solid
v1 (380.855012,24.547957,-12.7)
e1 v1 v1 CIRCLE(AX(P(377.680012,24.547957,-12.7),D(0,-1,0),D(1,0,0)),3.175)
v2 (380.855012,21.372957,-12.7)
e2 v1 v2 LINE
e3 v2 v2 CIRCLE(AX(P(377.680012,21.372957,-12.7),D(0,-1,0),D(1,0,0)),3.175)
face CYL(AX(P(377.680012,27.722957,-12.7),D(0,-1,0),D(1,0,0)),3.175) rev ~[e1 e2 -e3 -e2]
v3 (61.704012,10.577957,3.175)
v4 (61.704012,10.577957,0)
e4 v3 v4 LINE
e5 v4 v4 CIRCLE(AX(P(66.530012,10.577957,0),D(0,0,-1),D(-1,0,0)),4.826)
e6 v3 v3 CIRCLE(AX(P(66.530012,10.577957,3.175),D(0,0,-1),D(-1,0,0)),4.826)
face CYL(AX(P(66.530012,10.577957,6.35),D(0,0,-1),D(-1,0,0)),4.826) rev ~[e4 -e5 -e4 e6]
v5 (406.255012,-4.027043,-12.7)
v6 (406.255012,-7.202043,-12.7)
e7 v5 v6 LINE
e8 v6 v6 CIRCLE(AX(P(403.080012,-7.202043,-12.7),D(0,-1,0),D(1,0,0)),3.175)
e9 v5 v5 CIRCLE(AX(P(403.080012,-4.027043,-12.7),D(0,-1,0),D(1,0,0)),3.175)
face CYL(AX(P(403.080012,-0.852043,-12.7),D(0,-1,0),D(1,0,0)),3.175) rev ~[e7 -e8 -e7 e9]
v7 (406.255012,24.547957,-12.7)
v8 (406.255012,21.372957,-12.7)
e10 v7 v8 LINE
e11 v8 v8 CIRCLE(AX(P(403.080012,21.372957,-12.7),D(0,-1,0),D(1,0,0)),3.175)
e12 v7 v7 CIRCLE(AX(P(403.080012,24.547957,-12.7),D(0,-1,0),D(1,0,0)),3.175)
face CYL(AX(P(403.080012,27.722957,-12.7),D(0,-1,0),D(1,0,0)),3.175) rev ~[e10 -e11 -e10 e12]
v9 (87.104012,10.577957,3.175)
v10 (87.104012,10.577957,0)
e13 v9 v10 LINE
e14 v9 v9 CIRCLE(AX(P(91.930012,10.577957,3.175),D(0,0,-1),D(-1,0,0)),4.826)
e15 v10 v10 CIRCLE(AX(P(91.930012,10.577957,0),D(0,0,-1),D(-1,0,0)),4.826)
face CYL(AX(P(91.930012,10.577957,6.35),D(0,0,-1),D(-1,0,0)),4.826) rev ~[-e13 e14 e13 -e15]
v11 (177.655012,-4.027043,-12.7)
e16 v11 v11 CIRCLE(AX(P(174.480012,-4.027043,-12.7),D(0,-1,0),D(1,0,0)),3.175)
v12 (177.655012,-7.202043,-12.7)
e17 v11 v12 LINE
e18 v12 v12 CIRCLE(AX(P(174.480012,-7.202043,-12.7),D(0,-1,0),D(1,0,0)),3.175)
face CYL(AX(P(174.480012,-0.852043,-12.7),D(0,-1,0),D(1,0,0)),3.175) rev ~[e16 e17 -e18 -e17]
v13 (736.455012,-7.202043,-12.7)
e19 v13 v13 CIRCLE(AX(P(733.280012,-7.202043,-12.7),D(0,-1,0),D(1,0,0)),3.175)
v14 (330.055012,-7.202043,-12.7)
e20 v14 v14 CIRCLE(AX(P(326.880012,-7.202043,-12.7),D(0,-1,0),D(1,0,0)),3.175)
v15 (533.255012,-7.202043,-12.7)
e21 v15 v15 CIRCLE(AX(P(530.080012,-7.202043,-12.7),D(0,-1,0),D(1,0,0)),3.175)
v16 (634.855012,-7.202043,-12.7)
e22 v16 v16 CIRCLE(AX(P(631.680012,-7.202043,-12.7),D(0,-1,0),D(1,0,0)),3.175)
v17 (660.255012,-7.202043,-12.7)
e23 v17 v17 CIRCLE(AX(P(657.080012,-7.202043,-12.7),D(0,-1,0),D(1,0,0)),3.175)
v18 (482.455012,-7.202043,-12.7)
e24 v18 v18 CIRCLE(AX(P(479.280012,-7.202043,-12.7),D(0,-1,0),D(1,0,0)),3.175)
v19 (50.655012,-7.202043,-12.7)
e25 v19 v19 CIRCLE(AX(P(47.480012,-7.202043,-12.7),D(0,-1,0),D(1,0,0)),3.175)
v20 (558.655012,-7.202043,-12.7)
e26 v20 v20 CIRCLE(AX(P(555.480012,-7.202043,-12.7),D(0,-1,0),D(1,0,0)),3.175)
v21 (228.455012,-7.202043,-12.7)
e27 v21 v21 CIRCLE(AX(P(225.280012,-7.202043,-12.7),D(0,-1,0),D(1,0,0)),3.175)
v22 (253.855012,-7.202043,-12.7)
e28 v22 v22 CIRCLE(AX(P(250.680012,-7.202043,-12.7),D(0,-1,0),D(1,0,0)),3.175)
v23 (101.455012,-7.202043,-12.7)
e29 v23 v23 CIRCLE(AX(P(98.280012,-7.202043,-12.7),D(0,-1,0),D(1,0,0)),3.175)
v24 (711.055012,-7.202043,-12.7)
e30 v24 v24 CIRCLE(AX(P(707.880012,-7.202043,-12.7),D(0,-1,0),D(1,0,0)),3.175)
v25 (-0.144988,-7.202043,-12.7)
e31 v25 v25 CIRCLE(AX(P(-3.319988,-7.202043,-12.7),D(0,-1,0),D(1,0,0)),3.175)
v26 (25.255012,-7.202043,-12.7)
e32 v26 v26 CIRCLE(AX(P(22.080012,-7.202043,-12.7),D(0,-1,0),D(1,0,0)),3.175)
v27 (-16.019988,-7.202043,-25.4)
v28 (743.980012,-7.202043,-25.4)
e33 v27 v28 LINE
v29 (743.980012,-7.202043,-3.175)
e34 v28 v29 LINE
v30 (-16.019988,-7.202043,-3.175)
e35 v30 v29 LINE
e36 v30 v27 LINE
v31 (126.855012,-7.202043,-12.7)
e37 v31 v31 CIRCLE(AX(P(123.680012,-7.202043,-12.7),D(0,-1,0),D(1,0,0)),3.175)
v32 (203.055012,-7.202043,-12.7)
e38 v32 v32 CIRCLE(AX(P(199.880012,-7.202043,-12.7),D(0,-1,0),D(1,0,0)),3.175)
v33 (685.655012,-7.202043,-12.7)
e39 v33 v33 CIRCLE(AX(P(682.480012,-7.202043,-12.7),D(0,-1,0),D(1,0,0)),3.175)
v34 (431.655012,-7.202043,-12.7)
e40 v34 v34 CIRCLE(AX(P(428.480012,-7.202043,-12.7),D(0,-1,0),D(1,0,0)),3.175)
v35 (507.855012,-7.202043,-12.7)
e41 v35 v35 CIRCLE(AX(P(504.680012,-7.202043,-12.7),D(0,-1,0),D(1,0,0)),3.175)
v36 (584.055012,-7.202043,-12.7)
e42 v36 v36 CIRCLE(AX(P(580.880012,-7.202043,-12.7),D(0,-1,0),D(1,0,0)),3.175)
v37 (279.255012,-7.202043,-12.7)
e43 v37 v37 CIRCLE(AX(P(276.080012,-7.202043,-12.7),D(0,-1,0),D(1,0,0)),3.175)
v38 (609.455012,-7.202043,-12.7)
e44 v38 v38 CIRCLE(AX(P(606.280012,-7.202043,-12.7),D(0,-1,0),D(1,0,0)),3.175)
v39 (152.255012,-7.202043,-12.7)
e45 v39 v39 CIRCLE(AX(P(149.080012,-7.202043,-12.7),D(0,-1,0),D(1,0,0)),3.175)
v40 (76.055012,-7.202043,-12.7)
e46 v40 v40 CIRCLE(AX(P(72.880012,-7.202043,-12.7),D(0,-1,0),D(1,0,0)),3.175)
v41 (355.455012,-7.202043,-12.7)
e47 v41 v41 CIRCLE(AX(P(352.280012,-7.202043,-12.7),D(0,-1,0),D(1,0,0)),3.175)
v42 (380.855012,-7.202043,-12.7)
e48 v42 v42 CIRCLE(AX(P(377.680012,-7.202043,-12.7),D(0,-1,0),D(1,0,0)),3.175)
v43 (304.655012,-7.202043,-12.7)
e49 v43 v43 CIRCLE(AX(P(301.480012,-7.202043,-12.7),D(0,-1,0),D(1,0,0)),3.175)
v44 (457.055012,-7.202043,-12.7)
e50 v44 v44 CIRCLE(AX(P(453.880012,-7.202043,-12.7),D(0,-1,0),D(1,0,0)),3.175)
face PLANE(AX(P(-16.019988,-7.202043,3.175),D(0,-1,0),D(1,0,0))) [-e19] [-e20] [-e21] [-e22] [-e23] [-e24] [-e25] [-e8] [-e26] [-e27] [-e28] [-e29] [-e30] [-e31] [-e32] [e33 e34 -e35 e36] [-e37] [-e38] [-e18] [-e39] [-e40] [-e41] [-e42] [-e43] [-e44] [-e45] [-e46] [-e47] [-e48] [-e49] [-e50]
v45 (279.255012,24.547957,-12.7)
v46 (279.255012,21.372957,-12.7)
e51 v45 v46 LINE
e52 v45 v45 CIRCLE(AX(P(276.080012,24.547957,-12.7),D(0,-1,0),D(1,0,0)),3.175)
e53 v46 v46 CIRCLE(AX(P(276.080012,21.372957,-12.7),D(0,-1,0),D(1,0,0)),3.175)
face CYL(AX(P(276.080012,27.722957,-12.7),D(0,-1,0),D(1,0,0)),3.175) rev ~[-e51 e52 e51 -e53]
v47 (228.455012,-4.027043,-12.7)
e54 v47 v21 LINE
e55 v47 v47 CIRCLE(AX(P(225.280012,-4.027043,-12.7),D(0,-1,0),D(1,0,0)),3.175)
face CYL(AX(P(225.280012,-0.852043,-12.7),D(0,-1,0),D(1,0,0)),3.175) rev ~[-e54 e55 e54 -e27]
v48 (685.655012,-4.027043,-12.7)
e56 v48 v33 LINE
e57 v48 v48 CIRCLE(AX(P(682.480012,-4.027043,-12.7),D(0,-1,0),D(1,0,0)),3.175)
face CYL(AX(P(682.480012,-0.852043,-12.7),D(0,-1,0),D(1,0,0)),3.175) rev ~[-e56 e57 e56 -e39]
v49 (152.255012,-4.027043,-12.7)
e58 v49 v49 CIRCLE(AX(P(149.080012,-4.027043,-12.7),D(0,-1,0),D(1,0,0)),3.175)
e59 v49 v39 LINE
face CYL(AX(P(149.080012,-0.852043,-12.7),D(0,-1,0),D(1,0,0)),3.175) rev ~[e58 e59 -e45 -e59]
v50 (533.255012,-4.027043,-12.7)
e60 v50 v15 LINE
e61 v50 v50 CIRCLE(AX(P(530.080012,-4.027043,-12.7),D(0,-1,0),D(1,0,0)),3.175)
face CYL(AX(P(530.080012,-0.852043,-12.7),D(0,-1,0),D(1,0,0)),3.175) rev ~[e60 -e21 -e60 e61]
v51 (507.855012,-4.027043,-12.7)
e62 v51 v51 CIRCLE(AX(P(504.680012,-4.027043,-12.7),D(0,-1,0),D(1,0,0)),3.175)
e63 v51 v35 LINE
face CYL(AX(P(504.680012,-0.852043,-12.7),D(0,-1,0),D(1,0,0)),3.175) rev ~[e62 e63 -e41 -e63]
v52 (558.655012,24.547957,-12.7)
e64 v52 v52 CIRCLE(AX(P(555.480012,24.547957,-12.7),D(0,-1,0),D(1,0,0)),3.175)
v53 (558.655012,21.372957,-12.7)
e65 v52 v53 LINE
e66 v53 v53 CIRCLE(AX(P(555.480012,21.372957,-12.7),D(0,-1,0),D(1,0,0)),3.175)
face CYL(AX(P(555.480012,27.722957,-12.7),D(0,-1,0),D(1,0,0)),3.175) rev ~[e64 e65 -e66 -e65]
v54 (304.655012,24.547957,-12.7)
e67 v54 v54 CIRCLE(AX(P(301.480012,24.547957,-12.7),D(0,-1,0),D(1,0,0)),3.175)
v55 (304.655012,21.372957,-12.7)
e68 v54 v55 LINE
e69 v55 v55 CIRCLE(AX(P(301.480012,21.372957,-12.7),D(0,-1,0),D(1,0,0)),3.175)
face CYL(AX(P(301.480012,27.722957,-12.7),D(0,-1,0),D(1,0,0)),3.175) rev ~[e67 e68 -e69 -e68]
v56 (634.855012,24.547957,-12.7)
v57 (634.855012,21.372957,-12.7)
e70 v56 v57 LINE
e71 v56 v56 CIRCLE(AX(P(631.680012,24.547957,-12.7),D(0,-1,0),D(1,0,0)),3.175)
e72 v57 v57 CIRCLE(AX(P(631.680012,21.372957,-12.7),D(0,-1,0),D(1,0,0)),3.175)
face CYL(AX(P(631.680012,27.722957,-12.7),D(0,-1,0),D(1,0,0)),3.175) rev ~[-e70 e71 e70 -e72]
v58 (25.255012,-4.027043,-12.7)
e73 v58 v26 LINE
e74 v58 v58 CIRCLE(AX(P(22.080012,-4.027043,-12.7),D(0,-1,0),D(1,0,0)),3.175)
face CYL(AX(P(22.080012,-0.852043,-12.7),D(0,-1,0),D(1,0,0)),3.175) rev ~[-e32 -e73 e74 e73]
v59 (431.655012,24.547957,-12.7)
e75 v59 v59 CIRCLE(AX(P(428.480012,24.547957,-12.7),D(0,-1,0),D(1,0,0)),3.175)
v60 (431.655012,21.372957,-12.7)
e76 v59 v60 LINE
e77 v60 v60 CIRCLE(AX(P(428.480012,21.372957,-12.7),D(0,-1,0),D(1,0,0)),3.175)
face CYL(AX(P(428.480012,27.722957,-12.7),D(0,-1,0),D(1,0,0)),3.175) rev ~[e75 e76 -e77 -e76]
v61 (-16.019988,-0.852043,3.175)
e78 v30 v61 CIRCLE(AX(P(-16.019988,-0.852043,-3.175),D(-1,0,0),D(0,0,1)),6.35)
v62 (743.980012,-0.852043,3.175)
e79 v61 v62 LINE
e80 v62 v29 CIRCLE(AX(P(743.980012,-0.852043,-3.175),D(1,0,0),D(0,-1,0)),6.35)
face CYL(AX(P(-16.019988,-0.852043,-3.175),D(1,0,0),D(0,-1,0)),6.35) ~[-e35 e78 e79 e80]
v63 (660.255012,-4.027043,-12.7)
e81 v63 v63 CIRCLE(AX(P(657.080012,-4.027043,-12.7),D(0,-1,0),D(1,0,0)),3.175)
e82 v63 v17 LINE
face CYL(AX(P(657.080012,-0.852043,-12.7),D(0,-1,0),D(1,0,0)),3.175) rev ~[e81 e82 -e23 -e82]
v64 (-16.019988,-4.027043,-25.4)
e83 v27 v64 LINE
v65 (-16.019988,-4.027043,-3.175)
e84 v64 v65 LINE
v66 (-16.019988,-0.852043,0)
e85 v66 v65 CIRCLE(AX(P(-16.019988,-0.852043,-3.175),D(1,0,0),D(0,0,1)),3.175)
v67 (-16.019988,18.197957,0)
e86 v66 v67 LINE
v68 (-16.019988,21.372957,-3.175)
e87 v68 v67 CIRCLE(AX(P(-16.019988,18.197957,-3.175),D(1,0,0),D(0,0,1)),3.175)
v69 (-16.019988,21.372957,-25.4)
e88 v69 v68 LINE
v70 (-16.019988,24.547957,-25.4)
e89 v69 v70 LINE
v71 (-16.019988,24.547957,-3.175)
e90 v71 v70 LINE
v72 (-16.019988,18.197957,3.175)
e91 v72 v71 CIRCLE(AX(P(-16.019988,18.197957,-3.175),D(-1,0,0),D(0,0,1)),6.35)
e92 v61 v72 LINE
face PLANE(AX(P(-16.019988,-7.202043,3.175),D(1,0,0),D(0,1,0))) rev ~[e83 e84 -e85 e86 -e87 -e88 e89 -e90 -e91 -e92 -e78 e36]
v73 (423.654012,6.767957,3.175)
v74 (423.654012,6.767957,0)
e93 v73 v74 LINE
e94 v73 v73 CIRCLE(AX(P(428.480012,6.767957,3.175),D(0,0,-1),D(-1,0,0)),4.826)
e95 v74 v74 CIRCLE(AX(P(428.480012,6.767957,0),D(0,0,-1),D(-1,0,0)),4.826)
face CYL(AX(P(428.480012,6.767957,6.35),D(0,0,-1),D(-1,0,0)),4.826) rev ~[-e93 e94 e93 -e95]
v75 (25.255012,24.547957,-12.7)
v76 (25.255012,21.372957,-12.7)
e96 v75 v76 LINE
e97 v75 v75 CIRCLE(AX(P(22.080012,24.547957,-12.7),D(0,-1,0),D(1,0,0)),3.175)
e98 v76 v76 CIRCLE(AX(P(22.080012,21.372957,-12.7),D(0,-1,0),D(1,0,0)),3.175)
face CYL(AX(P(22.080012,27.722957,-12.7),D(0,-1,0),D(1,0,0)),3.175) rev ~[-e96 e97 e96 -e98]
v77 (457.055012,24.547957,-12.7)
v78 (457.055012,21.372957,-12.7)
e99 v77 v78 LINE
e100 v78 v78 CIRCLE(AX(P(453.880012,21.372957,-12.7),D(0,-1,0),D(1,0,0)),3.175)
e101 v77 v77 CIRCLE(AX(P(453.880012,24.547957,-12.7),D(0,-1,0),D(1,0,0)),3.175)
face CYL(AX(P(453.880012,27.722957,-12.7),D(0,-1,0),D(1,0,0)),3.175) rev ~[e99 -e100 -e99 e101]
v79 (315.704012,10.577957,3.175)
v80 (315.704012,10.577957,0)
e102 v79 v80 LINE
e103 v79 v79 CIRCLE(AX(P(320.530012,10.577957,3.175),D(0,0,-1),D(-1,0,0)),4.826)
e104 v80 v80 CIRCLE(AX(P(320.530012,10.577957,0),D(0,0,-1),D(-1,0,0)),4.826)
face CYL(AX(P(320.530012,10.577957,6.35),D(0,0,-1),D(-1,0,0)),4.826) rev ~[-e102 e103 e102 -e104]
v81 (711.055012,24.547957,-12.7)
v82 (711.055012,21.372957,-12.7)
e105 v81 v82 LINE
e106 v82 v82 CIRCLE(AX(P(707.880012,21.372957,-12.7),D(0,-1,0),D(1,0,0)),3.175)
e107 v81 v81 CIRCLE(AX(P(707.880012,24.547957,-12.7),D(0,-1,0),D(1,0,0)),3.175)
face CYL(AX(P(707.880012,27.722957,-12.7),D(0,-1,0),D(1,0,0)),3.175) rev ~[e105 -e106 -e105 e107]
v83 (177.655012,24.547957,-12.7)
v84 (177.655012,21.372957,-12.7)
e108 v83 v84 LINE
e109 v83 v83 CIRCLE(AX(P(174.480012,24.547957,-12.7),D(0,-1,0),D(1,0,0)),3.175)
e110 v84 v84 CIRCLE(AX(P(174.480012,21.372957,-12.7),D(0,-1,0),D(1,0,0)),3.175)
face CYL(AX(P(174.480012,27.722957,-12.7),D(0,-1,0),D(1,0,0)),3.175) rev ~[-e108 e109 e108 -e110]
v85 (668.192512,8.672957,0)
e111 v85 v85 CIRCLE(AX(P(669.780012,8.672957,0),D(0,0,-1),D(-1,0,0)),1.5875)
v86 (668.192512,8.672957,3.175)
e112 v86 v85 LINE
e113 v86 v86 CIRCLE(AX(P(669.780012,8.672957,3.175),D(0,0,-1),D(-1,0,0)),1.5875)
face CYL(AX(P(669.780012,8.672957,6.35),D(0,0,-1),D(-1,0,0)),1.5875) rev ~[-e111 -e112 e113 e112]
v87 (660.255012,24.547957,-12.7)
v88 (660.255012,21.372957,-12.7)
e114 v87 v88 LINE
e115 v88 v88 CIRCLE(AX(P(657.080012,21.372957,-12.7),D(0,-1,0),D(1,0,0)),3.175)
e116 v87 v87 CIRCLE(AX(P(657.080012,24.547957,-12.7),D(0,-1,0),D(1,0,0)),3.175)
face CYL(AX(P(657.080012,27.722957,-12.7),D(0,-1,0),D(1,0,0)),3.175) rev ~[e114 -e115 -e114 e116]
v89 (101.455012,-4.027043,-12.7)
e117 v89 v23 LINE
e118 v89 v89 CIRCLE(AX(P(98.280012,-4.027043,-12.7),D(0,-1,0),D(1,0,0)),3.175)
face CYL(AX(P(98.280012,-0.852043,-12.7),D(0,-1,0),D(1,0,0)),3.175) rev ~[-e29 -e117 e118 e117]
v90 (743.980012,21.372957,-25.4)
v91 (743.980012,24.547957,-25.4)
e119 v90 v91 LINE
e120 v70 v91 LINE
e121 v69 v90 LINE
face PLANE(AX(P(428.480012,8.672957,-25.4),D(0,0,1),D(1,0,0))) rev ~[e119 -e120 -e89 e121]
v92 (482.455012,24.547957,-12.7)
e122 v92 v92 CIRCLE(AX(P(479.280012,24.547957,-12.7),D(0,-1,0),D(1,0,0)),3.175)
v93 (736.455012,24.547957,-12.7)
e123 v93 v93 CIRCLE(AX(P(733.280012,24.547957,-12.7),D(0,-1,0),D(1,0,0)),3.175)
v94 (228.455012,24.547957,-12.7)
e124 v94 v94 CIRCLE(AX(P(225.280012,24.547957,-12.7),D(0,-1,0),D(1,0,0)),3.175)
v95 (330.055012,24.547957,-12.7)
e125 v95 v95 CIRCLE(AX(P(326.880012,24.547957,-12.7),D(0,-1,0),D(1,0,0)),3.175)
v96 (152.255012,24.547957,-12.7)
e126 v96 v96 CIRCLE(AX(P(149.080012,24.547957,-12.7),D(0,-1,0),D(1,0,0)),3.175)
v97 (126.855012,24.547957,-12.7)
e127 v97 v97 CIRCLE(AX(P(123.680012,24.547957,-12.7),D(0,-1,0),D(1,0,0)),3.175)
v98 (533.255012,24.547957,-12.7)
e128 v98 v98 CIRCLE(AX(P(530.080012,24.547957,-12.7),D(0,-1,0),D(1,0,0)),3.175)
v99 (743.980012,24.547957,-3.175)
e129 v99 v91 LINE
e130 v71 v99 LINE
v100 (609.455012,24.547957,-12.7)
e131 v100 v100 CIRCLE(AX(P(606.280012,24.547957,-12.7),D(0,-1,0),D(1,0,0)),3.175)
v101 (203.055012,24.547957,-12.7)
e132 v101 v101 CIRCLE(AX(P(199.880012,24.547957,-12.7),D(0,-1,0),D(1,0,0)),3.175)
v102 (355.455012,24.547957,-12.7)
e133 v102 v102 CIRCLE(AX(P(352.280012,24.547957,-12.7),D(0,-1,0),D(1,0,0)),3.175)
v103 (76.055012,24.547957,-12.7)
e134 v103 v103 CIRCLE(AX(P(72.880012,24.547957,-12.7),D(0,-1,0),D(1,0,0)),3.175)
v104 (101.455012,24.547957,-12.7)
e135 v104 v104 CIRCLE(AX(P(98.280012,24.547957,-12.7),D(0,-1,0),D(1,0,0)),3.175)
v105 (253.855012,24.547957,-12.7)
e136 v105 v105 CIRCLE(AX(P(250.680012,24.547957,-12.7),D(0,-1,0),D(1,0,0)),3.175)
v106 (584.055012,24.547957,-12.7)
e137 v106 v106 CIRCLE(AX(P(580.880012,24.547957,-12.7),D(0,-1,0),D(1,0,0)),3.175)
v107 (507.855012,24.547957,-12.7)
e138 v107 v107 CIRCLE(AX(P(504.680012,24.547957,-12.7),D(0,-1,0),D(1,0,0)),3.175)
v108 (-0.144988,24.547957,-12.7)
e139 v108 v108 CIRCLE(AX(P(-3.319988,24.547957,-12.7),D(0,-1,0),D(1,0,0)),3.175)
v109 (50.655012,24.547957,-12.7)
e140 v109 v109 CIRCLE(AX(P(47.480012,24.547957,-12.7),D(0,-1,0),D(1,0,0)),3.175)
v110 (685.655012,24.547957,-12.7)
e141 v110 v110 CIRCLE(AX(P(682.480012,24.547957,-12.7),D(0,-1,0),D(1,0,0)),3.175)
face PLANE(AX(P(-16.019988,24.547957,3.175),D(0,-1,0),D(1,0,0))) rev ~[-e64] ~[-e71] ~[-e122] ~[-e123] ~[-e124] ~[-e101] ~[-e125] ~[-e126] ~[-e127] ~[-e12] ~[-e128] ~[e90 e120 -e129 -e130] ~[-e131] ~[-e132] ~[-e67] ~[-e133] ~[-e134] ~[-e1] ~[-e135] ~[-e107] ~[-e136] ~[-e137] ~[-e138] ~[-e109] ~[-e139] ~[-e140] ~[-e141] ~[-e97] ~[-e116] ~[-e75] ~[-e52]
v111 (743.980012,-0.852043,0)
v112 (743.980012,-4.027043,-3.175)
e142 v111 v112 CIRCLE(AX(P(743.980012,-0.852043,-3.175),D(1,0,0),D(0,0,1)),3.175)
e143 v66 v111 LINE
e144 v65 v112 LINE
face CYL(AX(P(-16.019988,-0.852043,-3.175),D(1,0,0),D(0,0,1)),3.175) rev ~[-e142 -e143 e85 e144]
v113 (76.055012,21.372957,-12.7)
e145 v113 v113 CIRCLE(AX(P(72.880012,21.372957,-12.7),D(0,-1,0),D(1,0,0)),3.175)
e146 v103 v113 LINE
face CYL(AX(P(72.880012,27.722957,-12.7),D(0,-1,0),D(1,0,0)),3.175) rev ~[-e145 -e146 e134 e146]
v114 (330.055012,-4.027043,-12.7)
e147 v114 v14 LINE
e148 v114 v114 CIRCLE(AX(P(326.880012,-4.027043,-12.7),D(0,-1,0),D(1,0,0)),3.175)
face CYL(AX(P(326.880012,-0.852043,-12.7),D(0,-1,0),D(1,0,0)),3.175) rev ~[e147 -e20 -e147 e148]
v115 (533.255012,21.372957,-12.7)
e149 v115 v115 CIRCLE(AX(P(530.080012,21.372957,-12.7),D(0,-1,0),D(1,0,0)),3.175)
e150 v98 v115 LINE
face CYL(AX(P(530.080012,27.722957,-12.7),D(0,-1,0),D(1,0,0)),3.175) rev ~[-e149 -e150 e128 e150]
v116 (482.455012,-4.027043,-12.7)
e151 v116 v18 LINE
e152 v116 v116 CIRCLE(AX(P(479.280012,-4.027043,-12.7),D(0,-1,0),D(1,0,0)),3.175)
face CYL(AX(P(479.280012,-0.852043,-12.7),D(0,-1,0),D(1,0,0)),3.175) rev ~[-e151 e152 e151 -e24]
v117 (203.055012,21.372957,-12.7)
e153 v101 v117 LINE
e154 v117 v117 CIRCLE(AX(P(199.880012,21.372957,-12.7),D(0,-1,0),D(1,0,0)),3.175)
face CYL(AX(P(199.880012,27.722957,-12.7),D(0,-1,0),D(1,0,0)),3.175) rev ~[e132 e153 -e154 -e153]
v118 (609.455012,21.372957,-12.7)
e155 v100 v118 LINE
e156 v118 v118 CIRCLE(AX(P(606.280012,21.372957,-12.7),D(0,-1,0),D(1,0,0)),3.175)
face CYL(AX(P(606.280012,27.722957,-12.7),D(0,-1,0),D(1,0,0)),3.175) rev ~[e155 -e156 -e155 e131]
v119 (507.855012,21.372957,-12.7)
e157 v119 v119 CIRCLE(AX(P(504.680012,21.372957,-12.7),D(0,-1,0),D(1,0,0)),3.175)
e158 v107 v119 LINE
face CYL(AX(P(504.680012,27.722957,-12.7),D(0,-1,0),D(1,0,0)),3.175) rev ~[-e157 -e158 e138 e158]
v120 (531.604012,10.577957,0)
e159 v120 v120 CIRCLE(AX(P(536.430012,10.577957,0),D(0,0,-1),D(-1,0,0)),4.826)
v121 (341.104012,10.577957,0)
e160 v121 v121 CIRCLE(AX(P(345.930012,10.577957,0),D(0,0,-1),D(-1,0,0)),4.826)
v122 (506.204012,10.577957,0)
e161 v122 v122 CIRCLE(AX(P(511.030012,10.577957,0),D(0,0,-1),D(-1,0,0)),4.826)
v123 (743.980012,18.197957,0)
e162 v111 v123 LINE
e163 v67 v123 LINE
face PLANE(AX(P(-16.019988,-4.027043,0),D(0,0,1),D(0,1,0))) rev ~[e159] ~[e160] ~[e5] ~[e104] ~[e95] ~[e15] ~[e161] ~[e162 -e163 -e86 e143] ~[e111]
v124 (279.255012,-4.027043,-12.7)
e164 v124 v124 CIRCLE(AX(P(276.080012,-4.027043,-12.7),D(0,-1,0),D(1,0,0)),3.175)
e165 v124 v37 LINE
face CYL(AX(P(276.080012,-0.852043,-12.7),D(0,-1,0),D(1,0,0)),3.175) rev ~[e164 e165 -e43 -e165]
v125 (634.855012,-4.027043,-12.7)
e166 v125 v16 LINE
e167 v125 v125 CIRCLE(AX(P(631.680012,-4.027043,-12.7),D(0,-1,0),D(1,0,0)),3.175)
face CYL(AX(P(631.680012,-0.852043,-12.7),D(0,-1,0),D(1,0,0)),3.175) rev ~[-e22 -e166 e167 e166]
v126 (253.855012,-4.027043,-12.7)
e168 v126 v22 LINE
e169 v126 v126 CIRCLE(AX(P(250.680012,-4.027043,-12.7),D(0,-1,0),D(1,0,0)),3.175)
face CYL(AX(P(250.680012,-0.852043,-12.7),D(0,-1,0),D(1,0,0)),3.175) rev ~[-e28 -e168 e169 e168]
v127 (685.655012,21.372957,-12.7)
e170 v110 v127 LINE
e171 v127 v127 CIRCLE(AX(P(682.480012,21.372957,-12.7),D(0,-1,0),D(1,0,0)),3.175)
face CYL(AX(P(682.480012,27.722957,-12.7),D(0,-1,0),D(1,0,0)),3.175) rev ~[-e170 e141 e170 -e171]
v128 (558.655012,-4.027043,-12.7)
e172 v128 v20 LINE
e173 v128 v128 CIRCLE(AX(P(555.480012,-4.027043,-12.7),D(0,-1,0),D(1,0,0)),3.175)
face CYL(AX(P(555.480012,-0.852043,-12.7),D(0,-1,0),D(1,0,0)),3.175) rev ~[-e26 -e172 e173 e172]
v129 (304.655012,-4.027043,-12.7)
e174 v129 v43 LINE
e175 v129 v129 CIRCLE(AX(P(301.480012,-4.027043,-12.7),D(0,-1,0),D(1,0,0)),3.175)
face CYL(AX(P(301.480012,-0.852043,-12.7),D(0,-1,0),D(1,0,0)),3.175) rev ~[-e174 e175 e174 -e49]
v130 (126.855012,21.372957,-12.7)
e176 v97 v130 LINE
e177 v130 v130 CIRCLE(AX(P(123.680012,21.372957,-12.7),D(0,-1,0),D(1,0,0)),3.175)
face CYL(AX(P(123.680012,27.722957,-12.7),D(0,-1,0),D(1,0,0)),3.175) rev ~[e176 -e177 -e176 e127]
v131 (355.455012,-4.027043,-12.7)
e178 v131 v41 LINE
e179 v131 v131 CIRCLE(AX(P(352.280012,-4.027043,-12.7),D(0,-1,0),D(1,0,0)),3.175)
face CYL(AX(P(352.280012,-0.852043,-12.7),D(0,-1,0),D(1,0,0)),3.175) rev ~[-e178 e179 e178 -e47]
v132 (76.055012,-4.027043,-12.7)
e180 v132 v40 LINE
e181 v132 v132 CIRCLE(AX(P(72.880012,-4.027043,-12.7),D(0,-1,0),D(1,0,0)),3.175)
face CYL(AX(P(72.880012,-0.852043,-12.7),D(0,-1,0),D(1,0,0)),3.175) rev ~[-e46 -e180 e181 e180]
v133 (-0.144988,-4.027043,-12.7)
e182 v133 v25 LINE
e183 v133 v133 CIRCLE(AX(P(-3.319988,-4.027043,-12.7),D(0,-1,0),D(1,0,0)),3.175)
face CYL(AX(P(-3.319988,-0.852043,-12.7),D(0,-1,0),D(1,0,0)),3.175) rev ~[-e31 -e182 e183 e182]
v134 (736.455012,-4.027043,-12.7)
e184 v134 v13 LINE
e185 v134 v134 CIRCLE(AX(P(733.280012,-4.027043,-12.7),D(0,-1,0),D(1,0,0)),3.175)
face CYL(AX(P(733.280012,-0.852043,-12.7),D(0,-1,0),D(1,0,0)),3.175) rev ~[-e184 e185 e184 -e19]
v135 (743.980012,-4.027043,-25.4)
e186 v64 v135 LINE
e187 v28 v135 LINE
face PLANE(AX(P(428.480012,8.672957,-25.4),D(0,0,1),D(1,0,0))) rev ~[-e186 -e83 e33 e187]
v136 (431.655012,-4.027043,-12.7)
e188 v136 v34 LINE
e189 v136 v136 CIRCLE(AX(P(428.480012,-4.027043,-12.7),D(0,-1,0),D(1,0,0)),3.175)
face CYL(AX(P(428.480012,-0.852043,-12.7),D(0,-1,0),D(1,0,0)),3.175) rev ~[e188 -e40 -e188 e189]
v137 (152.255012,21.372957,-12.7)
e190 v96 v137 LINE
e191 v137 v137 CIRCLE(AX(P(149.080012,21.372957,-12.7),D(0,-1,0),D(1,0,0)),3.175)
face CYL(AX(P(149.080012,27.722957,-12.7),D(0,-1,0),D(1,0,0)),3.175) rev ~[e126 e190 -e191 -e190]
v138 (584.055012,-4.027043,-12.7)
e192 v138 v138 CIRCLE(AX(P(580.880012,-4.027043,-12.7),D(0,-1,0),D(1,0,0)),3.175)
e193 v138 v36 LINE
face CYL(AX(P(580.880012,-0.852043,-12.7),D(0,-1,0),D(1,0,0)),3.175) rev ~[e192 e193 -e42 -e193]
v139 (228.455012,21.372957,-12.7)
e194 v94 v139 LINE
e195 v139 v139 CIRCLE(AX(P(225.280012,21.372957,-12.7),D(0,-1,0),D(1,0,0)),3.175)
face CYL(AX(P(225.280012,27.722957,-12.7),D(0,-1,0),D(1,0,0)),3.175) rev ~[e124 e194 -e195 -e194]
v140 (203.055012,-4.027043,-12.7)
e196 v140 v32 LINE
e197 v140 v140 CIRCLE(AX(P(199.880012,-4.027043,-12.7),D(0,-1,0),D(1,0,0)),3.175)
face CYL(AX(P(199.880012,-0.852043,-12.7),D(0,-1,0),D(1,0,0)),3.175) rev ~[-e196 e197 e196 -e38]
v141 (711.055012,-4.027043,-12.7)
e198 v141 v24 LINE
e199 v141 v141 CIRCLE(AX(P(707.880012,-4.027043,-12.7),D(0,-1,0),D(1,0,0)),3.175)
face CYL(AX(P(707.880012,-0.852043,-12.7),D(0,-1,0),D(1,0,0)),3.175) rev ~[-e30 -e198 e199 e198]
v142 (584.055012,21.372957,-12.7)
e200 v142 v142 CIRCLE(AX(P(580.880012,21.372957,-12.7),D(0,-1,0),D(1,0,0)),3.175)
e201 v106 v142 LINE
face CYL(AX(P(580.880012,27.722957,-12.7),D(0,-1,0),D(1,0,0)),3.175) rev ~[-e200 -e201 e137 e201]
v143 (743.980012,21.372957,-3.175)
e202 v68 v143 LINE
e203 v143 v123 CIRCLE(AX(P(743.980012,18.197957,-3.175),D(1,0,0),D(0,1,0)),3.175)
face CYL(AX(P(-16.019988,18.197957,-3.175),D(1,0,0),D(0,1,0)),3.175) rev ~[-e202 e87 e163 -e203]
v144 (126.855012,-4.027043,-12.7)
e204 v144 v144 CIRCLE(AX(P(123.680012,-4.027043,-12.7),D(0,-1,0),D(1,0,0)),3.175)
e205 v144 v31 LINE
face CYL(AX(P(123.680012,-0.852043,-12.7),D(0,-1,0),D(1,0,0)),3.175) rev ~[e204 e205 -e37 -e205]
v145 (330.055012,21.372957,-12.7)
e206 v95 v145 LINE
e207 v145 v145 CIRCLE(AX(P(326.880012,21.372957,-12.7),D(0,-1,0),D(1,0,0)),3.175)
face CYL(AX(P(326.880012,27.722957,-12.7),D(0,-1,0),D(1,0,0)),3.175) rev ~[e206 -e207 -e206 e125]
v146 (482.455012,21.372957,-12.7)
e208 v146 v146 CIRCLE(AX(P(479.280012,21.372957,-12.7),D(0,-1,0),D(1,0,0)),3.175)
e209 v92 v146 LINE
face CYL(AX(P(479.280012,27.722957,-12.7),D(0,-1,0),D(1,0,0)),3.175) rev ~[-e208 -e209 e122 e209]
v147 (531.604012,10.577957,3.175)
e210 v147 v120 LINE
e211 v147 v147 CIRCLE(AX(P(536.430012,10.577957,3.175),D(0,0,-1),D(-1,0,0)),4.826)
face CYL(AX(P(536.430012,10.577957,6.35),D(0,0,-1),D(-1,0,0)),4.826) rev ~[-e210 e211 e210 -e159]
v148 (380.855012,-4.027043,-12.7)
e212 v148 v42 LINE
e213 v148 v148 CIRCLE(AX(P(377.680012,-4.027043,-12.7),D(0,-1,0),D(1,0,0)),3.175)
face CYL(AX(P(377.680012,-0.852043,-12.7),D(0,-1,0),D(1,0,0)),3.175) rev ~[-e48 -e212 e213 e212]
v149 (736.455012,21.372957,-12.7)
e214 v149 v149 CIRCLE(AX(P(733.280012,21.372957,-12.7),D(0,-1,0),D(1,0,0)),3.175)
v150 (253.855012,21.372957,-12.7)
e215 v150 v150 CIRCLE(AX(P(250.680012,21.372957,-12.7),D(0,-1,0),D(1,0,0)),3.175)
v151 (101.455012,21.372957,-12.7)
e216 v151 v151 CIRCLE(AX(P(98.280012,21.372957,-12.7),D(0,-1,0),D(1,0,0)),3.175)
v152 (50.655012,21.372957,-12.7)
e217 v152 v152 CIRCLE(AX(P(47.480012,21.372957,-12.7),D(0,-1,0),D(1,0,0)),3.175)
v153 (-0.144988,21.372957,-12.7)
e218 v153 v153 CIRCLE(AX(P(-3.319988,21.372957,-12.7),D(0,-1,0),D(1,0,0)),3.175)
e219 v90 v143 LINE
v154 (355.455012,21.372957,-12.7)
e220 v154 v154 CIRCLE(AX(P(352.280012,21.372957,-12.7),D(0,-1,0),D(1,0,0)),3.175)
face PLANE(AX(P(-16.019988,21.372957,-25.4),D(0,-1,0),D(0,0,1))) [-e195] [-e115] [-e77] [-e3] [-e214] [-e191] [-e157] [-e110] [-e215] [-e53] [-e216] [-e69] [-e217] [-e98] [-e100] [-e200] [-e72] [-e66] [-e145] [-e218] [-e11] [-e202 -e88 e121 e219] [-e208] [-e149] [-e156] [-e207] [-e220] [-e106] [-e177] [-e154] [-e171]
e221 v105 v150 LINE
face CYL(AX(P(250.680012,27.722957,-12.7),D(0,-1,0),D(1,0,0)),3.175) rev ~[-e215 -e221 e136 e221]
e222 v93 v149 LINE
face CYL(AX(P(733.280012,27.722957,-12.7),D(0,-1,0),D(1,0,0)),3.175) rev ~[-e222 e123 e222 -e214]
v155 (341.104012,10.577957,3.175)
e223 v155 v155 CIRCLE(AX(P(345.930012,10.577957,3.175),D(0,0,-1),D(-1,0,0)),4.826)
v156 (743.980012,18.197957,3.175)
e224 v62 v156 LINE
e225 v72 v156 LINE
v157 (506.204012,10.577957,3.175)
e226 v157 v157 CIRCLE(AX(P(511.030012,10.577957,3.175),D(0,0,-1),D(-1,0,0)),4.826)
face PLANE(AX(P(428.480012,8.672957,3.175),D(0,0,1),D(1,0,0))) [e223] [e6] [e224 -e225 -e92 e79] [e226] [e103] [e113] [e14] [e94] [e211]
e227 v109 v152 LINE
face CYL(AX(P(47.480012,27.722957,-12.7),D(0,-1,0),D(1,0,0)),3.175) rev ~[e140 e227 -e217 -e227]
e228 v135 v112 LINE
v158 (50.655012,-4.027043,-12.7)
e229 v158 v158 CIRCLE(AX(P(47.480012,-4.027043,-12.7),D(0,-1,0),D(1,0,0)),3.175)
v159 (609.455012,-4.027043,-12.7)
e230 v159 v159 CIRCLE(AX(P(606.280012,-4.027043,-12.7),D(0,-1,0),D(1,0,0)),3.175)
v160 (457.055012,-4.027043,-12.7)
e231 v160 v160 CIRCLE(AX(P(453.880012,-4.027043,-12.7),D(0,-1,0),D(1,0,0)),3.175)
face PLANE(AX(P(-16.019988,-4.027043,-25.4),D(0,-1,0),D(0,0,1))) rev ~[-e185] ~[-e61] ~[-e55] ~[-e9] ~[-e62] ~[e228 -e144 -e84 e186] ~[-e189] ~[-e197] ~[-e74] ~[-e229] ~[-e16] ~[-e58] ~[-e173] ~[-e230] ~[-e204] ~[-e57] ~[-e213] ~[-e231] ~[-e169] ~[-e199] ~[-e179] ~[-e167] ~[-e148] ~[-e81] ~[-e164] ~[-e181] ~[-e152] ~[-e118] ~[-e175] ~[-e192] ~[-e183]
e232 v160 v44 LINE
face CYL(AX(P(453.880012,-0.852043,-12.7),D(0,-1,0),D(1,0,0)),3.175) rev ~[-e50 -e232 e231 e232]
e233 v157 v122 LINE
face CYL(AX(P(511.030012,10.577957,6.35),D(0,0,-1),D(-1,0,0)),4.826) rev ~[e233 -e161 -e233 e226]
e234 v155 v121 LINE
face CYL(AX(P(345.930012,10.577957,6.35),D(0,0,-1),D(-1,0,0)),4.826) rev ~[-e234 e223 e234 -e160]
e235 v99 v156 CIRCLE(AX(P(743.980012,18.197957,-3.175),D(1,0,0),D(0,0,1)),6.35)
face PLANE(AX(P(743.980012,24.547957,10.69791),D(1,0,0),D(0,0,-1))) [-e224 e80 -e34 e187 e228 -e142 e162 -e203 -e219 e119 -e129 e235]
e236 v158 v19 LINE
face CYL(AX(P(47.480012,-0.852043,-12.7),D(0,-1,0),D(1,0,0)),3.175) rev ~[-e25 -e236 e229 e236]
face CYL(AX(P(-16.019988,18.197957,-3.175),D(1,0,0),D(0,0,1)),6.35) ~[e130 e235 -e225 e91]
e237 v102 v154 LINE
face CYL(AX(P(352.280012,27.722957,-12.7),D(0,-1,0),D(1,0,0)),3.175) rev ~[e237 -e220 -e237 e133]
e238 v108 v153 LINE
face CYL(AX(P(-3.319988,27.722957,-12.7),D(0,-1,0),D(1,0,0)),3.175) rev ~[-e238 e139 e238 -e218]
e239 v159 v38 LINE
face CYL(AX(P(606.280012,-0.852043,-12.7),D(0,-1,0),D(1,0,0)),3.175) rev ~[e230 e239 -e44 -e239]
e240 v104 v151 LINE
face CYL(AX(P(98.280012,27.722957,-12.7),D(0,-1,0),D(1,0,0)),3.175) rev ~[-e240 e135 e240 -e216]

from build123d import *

# Parameters (mm, degrees)
SKETCH1_W          = 889
SKETCH1_H          = 31.75
EXTRUDE1_DEPTH     = 28.575
EXTRUDE2_REACH     = 891.702
SKETCH2_W          = 25.4
SKETCH2_H          = 25.4
HOLE1_D            = 6.35
HOLE1_DEPTH        = 3.175
LPATTERN1_COUNT    = 35
LPATTERN1_PITCH    = 25.4
HOLE2_D            = 9.652
LPATTERN2_COUNT    = 12
LPATTERN2_PITCH    = 25.4
HOLE3_D            = 9.652
HOLE4_D            = 9.652
LPATTERN3_COUNT    = 12
LPATTERN3_PITCH    = 25.4
HOLE5_D            = 3.175
HOLE6_D            = 6.35
LPATTERN4_COUNT    = 35
LPATTERN4_PITCH    = 25.4
FILLET1_R          = 3.175
FILLET2_R          = 3.175
FILLET3_R          = 6.35
FILLET4_R          = 6.35
SKETCH15_W         = 132.395488749
SKETCH15_H         = 60.665431042
CUT_EXTRUDE1_DEPTH = 874.926383539


with BuildPart() as part:
    # Sketch1 → Extrude1 (new body)
    with BuildSketch(Plane.XY.offset(3.175)):
        with Locations((428.480011997, 8.672957166)):
            Rectangle(SKETCH1_W, SKETCH1_H)
    extrude(amount=-EXTRUDE1_DEPTH)

    # Sketch2 → Extrude2 (cut, up to next)
    with BuildSketch(Plane.ZY.offset(16.019988003), mode=Mode.PRIVATE) as extrude2_sk1:
        with Locations((-12.7, 8.672957166)):
            Rectangle(SKETCH2_W, SKETCH2_H)
    extrude2_tool1 = extrude(extrude2_sk1.sketch, amount=-EXTRUDE2_REACH, mode=Mode.PRIVATE) & part.part
    add(extrude2_tool1.solids().sort_by_distance((-16.019988, 8.672957, -12.7))[0], mode=Mode.SUBTRACT)

    # Hole1
    with Locations(Plane(origin=(0, 24.547957166, 0), x_dir=(-1, 0, 0), z_dir=(0, 1, 0))):
        with Locations((3.319988003, -12.7)):
            hole1 = Hole(HOLE1_D / 2, depth=HOLE1_DEPTH)

    # LPattern1: Hole1 ×35
    with Locations(*[(i * LPATTERN1_PITCH, 0, 0) for i in range(1, LPATTERN1_COUNT)]):
        add(hole1, mode=Mode.SUBTRACT)

    # Hole2 (through all)
    with Locations(Plane.XY.offset(3.175)):
        with Locations((66.530011997, 10.577957166)):
            hole2 = Hole(HOLE2_D / 2)

    # LPattern2: Hole2 ×12, 8 skipped
    with Locations(*[(i * LPATTERN2_PITCH, 0, 0) for i in range(1, LPATTERN2_COUNT) if i not in (2, 3, 4, 5, 6, 7, 8, 9)]):
        add(hole2, mode=Mode.SUBTRACT)

    # Hole3 (through all)
    with Locations(Plane.XY.offset(3.175)):
        with Locations((428.480011997, 6.767957166)):
            Hole(HOLE3_D / 2)

    # Hole4 (through all)
    with Locations(Plane.XY.offset(3.175)):
        with Locations((511.030011997, 10.577957166)):
            hole4 = Hole(HOLE4_D / 2)

    # LPattern3: Hole4 ×12, 8 skipped
    with Locations(*[(i * LPATTERN3_PITCH, 0, 0) for i in range(1, LPATTERN3_COUNT) if i not in (2, 3, 4, 5, 6, 7, 8, 9)]):
        add(hole4, mode=Mode.SUBTRACT)

    # Hole5 (through all)
    with Locations(Plane.XY.offset(3.175)):
        with Locations((669.780011997, 8.672957166)):
            Hole(HOLE5_D / 2)

    # Hole6 (through all)
    with Locations(Plane(origin=(0, -4.027042834, 0), x_dir=(-1, 0, 0), z_dir=(0, 1, 0))):
        with Locations((3.319988003, -12.7)):
            hole6 = Hole(HOLE6_D / 2)

    # LPattern4: Hole6 ×35
    with Locations(*[(i * LPATTERN4_PITCH, 0, 0) for i in range(1, LPATTERN4_COUNT)]):
        add(hole6, mode=Mode.SUBTRACT)

    # Fillet1
    fillet1_edges = [part.edges().sort_by_distance(p)[0] for p in [
        (428.480011997, 21.372957166, 0),
    ]]
    fillet(fillet1_edges, radius=FILLET1_R)

    # Fillet2
    fillet2_edges = [part.edges().sort_by_distance(p)[0] for p in [
        (428.480011997, -4.027042834, 0),
    ]]
    fillet(fillet2_edges, radius=FILLET2_R)

    # Fillet3
    fillet3_edges = [part.edges().sort_by_distance(p)[0] for p in [
        (428.480011997, -7.202042834, 3.175),
    ]]
    fillet(fillet3_edges, radius=FILLET3_R)

    # Fillet4
    fillet4_edges = [part.edges().sort_by_distance(p)[0] for p in [
        (428.480011997, 24.547957166, 3.175),
    ]]
    fillet(fillet4_edges, radius=FILLET4_R)

    # Sketch15 → Cut-Extrude1 (cut, through all)
    with BuildSketch(Plane(origin=(0, 24.547957166, 0), x_dir=(1, 0, 0), z_dir=(0, 1, 0))):
        with Locations((810.177756371, 19.634805261)):
            Rectangle(SKETCH15_W, SKETCH15_H)
    extrude(amount=-CUT_EXTRUDE1_DEPTH, mode=Mode.SUBTRACT)


solid = part.part
